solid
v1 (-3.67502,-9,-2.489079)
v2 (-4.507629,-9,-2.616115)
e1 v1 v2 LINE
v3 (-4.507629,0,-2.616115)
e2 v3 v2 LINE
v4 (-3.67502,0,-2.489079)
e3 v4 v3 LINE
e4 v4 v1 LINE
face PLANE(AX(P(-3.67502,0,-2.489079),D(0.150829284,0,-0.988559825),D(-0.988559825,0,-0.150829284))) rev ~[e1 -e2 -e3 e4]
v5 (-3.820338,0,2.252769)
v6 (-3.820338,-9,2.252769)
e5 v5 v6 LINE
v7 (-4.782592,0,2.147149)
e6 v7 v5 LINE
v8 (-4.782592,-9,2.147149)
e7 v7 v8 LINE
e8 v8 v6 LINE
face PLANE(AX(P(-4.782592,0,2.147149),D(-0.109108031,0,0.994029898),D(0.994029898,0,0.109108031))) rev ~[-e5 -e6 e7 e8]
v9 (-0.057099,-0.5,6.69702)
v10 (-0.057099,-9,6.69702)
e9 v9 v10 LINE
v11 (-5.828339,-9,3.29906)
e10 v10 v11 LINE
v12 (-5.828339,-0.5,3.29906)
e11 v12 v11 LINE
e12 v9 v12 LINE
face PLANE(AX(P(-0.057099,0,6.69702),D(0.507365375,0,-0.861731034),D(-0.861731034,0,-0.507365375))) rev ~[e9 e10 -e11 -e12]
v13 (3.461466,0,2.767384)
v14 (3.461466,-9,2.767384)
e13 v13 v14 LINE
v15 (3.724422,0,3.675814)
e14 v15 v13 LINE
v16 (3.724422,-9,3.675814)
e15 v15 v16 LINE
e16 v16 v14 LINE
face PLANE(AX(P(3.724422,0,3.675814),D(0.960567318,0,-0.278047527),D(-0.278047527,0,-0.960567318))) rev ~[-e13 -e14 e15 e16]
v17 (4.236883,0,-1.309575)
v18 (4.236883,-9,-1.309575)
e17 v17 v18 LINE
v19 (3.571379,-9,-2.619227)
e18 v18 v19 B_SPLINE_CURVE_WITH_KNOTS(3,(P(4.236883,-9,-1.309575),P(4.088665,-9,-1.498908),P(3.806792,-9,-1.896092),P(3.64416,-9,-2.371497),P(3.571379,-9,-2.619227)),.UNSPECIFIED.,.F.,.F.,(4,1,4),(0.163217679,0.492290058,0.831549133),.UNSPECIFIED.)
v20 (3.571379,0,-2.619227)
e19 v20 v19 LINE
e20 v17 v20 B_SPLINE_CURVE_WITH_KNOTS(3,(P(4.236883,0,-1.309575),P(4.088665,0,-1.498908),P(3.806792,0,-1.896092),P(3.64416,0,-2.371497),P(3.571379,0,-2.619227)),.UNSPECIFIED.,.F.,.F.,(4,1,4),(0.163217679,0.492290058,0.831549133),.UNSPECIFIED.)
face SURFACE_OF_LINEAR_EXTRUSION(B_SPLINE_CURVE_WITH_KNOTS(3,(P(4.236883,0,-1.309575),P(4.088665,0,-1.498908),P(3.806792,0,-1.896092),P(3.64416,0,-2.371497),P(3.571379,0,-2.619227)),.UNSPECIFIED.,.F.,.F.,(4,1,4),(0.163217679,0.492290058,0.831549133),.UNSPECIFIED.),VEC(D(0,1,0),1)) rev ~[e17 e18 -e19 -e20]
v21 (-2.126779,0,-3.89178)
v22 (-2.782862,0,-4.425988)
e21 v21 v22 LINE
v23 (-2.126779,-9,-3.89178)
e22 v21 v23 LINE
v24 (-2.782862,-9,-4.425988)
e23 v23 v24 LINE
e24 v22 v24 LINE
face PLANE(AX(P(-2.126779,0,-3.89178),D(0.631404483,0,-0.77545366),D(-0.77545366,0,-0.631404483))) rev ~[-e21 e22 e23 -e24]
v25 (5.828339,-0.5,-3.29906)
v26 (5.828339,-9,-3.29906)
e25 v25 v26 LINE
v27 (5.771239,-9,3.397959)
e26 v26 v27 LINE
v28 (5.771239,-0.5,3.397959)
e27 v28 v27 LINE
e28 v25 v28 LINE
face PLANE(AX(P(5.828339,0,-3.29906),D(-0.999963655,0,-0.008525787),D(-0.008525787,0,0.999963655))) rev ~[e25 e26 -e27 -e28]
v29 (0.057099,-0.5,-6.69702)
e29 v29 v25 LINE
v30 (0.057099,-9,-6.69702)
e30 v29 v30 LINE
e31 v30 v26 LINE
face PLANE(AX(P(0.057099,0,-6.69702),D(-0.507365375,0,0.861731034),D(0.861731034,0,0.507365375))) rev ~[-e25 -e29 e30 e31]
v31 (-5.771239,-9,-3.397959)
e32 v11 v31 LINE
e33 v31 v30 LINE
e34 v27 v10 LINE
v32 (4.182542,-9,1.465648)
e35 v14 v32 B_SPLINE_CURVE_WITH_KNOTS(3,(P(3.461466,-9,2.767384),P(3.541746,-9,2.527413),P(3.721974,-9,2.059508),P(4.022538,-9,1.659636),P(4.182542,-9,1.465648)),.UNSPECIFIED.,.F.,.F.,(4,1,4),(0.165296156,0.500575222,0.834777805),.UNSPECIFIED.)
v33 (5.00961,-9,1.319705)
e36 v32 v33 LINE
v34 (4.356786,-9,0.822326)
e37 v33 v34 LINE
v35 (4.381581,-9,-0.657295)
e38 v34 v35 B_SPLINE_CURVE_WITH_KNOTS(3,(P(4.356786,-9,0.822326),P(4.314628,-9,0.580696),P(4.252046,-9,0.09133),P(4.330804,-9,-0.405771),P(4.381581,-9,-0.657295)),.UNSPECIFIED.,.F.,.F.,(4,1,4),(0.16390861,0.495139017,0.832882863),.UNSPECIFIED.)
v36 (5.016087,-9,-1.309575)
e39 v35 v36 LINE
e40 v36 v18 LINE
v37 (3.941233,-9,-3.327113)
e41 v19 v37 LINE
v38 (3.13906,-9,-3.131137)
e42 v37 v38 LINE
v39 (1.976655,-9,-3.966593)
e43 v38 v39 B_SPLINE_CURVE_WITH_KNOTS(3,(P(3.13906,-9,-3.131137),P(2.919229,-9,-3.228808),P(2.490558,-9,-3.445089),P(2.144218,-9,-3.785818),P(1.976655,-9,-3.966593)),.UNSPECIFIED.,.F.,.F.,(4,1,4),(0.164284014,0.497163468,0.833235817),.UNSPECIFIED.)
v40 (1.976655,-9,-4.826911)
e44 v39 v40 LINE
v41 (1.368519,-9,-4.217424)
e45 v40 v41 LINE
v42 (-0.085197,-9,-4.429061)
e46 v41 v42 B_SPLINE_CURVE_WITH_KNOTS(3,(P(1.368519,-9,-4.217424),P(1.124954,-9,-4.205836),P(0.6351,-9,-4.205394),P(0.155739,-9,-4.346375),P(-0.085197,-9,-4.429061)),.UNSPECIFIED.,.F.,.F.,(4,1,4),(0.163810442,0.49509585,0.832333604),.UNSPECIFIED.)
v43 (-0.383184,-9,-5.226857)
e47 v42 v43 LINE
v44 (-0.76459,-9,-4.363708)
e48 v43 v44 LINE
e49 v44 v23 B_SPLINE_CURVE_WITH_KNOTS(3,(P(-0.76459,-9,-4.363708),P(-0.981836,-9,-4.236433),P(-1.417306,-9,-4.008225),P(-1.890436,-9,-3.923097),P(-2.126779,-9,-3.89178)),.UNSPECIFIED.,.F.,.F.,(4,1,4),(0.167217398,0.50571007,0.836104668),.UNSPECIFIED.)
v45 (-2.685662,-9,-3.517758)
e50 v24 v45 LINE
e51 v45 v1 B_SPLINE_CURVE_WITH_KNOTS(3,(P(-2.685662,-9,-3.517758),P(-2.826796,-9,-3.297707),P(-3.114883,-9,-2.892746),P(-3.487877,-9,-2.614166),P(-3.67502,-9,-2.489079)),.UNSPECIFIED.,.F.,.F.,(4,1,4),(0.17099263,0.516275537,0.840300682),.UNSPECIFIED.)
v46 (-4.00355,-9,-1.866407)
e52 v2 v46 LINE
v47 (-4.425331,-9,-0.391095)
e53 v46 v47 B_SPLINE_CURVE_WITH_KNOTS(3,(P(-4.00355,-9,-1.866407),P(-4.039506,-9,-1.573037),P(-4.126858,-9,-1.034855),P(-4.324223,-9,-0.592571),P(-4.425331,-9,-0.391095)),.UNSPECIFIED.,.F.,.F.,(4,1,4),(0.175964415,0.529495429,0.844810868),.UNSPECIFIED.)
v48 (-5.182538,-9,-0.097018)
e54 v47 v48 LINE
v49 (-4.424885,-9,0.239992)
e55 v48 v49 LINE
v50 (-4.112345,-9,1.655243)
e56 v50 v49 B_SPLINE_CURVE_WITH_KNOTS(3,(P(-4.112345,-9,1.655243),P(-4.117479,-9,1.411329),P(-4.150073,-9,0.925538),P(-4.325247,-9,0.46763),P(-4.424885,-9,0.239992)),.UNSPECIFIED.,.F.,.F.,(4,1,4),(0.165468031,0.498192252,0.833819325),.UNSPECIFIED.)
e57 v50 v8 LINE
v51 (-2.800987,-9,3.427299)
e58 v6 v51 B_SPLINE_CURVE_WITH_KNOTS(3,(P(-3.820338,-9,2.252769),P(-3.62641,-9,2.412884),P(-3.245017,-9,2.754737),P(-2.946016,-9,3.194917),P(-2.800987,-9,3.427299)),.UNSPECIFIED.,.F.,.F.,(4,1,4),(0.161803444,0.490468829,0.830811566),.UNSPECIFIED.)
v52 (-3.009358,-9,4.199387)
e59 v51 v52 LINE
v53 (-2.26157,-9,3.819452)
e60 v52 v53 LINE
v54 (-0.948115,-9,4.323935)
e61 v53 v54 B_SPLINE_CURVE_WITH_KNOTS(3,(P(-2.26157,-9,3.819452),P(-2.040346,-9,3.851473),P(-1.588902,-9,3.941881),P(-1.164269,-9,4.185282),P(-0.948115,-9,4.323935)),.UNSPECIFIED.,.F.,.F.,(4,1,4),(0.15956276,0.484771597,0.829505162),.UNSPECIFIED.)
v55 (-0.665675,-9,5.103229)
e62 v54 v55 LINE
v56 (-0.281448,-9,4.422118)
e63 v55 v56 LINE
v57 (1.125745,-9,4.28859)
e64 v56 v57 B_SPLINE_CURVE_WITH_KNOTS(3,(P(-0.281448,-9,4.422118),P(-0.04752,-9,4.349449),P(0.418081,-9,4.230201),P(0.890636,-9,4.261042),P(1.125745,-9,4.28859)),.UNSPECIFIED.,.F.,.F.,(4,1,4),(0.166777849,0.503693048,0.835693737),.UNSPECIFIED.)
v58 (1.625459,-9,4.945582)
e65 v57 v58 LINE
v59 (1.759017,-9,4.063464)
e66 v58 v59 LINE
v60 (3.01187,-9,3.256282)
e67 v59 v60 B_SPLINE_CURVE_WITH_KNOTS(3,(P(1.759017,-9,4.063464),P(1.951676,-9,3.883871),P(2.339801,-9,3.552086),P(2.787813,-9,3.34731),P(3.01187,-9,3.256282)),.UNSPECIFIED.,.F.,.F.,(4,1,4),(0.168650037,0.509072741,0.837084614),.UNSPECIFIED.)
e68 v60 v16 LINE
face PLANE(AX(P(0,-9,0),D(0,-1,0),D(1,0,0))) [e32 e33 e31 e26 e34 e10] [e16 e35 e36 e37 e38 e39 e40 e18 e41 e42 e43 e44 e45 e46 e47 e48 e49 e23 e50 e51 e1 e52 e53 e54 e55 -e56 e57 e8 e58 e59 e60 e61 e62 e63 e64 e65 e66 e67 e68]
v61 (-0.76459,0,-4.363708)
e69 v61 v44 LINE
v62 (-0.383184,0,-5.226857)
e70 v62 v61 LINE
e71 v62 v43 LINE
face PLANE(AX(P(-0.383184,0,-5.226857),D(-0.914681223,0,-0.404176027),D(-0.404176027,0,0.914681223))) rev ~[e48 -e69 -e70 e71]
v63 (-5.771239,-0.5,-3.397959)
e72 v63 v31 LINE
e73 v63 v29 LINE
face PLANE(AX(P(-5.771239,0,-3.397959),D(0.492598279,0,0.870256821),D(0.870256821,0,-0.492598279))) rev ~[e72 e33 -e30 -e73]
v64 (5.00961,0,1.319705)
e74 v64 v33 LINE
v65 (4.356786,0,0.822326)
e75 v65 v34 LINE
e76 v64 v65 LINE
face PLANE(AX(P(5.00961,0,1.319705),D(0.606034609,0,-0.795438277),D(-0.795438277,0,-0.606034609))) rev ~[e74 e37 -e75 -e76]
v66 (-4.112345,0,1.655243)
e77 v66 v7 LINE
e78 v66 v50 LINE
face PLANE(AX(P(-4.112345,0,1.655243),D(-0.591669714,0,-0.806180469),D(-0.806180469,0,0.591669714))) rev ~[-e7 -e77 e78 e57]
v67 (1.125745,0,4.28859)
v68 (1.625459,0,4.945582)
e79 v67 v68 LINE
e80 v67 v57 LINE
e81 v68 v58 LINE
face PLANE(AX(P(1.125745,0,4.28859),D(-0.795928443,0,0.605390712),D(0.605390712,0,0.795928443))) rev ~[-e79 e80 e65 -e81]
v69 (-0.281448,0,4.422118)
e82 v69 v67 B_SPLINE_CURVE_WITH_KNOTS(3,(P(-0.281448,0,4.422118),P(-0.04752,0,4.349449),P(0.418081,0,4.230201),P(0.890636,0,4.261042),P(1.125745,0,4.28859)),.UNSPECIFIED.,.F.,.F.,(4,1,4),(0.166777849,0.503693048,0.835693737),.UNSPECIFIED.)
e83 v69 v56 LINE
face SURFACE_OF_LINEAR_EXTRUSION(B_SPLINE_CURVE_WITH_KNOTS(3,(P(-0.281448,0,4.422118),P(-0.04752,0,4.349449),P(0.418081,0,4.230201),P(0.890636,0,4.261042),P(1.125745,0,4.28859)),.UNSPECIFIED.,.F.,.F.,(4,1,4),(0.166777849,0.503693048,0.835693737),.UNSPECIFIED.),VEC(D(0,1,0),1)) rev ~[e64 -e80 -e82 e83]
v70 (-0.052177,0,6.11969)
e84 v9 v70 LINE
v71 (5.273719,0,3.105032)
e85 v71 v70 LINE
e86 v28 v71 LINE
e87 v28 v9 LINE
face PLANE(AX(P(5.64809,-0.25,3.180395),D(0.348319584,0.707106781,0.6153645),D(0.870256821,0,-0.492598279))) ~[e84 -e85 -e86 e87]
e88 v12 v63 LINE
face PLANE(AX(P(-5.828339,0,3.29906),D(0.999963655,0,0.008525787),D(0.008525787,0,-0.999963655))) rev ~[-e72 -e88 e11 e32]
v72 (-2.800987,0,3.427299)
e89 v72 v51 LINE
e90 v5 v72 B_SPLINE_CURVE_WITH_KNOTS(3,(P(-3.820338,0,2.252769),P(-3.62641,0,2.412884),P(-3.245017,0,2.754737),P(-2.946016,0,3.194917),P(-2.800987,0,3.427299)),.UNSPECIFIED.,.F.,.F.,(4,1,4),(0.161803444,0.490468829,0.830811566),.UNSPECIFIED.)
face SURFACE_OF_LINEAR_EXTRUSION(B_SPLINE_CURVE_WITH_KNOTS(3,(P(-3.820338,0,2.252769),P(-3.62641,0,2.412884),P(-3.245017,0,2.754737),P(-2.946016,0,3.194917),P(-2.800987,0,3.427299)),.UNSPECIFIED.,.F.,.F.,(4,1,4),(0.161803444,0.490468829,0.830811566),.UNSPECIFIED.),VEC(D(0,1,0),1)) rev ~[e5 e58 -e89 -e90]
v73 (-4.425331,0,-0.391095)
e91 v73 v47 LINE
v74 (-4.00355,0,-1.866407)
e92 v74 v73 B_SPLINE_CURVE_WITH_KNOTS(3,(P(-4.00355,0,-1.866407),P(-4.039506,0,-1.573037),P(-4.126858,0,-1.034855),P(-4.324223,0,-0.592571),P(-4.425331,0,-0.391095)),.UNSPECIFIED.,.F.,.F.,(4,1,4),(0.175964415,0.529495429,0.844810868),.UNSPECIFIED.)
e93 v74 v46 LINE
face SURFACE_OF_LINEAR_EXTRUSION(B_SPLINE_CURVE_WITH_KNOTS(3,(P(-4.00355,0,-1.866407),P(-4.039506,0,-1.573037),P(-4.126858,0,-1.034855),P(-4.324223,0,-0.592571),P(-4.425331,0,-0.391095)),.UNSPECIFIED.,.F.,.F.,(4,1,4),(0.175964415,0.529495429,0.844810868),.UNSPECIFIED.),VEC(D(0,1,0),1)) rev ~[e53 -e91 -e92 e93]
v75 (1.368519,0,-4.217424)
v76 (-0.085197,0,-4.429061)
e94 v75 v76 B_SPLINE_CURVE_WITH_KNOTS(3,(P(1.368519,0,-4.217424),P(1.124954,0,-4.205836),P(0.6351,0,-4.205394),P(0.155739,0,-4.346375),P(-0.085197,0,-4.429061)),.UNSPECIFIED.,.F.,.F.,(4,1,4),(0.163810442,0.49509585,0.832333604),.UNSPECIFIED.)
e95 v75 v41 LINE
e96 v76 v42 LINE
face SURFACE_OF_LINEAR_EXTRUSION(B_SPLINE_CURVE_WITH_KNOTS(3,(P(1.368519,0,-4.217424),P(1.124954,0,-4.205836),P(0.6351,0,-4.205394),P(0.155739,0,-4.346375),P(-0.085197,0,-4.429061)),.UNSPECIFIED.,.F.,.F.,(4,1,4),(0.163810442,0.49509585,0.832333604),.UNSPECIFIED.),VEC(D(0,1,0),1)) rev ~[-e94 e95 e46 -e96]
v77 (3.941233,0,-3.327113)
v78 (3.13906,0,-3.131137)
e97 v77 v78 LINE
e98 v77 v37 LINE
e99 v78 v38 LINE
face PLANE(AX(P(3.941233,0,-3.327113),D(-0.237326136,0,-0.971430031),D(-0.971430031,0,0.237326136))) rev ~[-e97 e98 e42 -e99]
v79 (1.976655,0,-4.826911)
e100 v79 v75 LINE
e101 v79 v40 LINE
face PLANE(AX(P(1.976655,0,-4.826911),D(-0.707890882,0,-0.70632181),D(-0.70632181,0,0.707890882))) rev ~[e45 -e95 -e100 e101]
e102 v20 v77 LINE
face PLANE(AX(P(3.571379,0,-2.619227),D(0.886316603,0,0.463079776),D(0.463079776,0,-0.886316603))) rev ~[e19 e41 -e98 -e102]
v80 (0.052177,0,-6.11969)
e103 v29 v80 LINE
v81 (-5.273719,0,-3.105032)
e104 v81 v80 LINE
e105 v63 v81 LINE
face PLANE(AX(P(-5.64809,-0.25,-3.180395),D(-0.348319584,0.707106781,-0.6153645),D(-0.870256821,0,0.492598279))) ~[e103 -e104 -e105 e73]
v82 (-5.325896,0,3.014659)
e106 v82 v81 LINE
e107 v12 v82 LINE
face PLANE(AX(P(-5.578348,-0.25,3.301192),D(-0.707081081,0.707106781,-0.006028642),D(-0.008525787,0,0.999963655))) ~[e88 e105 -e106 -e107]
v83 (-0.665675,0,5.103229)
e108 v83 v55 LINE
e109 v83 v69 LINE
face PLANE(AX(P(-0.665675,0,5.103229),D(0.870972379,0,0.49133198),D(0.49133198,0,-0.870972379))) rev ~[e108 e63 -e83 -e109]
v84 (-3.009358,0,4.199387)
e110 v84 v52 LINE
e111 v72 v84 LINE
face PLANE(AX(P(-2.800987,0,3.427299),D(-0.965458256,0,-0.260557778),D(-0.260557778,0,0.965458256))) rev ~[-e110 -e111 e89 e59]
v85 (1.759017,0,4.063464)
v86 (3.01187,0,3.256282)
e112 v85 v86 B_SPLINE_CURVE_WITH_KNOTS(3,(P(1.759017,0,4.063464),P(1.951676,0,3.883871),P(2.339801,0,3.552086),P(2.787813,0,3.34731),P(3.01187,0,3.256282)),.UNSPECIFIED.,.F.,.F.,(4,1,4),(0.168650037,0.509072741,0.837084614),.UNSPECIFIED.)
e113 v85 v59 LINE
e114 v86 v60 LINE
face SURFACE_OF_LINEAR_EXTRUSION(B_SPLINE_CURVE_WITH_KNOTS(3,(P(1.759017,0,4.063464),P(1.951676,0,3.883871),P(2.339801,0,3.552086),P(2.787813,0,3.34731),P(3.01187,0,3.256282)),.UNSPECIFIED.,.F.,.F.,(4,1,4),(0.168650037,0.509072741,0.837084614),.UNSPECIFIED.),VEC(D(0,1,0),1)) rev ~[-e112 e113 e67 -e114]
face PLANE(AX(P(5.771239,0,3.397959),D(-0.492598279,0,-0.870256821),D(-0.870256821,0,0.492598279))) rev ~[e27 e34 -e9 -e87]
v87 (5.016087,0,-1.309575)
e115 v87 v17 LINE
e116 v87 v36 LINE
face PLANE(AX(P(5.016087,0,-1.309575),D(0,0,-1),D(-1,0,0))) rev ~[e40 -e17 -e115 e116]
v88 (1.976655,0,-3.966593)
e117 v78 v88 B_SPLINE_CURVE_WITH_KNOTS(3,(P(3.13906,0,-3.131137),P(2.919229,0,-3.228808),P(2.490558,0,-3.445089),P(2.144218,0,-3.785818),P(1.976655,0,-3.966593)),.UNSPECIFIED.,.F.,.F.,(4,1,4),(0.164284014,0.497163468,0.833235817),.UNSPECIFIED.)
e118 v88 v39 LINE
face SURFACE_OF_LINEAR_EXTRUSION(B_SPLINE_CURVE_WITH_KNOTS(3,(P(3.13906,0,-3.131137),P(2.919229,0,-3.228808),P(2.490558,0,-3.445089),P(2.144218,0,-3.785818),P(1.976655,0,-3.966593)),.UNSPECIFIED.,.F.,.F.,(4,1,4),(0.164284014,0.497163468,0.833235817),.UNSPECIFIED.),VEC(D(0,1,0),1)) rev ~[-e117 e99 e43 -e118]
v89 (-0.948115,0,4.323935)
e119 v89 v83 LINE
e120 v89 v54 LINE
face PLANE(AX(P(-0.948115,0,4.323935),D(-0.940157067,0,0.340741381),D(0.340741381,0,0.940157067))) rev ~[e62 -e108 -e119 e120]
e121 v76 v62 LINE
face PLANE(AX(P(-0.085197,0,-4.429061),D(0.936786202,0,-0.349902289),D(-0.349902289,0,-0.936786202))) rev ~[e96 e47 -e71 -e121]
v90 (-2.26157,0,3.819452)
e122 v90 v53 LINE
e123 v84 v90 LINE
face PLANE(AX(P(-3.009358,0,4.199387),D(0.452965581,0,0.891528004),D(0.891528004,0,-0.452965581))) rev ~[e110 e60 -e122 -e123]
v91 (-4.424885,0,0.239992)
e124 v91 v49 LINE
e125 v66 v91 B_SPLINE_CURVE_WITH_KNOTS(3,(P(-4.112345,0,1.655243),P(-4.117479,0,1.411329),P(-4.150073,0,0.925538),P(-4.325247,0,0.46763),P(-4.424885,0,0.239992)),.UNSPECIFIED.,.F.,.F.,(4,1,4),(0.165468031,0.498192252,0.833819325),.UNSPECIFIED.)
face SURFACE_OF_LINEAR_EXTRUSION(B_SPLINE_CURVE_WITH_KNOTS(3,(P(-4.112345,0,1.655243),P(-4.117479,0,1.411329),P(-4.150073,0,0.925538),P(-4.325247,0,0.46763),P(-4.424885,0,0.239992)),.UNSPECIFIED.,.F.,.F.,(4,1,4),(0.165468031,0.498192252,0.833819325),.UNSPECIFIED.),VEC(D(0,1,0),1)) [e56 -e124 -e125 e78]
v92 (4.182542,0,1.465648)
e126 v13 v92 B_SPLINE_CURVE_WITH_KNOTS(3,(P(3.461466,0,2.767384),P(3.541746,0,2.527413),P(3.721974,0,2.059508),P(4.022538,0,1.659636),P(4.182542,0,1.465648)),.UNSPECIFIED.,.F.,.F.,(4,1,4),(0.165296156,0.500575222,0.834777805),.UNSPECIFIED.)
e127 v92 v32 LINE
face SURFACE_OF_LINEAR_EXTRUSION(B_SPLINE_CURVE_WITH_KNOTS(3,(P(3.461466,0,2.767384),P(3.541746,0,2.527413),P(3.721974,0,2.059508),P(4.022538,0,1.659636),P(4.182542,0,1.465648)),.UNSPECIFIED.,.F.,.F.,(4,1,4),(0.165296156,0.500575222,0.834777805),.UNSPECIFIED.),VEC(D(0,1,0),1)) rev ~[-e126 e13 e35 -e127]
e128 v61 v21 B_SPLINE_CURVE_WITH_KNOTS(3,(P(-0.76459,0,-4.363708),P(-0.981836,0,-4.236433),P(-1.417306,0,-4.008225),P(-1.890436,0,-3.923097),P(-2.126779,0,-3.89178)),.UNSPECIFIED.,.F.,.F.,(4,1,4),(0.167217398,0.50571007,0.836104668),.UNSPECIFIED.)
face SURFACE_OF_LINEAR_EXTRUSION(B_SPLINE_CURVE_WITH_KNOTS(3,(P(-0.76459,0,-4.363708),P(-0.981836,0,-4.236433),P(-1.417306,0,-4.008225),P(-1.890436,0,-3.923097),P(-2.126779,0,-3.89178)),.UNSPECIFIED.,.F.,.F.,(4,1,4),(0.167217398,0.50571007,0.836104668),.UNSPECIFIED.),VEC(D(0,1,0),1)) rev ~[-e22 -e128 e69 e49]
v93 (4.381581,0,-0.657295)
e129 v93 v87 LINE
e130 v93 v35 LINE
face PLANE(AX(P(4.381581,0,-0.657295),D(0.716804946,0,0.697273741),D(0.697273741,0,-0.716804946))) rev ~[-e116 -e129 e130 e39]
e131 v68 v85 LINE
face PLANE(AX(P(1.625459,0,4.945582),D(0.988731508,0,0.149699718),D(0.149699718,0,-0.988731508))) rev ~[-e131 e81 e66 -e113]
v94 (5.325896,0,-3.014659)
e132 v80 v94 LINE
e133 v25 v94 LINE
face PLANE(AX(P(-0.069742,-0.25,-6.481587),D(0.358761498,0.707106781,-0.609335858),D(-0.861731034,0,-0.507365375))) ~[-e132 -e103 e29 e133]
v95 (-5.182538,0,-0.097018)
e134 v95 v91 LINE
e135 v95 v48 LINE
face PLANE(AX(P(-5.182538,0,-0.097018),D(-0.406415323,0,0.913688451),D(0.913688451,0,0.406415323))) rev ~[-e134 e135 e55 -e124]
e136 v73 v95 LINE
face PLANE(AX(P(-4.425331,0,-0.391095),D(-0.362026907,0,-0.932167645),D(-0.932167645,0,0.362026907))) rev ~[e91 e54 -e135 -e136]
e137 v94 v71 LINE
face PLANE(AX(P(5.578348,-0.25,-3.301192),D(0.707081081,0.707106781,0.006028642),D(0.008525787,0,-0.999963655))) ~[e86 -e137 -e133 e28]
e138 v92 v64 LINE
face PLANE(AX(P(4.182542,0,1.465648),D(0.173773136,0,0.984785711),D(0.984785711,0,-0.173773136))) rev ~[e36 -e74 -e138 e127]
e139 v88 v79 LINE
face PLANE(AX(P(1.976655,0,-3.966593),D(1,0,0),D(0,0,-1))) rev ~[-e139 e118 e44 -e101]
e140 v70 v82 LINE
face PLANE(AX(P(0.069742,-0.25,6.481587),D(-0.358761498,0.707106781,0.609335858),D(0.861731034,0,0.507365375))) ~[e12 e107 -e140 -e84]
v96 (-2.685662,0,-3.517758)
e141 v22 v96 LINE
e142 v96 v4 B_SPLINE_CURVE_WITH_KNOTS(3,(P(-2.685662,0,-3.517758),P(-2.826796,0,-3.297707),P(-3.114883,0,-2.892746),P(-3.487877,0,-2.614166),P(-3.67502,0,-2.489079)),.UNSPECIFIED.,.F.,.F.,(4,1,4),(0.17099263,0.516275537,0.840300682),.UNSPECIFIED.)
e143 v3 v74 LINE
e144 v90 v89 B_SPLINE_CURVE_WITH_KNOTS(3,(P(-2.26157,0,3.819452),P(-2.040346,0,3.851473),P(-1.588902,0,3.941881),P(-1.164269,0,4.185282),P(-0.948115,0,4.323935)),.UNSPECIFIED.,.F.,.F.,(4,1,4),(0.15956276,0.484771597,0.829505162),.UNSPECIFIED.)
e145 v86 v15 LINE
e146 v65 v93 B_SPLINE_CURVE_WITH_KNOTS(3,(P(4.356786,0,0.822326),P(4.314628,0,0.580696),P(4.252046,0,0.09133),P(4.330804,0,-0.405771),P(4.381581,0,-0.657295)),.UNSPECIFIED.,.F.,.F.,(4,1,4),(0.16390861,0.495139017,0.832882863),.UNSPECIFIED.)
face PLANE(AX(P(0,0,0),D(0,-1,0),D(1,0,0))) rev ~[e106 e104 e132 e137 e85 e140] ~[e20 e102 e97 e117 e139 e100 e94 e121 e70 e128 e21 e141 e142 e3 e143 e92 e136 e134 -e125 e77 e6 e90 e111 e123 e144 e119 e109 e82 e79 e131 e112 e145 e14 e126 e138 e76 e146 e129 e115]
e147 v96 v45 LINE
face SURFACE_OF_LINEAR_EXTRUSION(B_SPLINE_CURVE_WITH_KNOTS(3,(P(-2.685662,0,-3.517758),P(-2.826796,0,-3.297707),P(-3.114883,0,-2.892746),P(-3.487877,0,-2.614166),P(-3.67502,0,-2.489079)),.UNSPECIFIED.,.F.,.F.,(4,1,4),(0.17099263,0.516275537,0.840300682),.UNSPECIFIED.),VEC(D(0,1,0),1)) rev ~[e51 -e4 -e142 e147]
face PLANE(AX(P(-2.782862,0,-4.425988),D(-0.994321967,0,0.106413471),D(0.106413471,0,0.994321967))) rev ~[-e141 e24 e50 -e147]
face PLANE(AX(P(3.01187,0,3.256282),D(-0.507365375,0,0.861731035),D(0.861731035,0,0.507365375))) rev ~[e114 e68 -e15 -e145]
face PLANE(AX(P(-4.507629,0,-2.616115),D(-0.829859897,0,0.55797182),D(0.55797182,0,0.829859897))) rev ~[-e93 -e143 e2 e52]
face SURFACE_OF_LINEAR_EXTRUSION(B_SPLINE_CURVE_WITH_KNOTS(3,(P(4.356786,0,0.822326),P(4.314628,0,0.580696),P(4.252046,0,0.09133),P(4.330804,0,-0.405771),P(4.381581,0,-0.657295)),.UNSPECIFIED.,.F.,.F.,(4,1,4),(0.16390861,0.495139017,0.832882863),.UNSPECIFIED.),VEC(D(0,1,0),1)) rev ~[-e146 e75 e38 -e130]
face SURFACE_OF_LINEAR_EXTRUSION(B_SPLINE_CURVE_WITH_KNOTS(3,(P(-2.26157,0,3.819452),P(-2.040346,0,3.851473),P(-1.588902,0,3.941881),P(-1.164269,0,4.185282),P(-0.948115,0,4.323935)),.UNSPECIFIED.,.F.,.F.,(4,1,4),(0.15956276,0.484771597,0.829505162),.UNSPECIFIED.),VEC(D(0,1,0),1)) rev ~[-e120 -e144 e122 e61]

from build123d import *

# Parameters (mm, degrees)
F1_DEPTH = 9
F2_SIZE  = 0.5


with BuildPart() as f1:
    # F0 (on Front) → F1 (new body)
    with BuildSketch(Plane.XZ):
        Polygon((5.771239479, 3.3979594185), (-0.057099438, 6.6970197094), (-5.8283389169, 3.2990602908), (-5.771239479, -3.3979594185), (0.057099438, -6.6970197094), (5.8283389169, -3.2990602908), align=None)
        with BuildLine():
            add(Edge.make_bspline(
                [(-4.1123446832, 1.6552429256), (-4.1174787775, 1.411329486), (-4.1500733637, 0.925537621), (-4.325246506, 0.4676303043), (-4.4248853183, 0.2399919724)],
                knots=[0.1654680305, 0.1654680305, 0.1654680305, 0.1654680305, 0.4981922517, 0.8338193254, 0.8338193254, 0.8338193254, 0.8338193254], degree=3))
            Line((-4.1123446832, 1.6552429256), (-4.7825924335, 2.147149279))
            Line((-4.7825924335, 2.147149279), (-3.8203382814, 2.2527694981))
            add(Edge.make_bspline(
                [(-3.8203382814, 2.2527694981), (-3.6264101242, 2.412883771), (-3.2450169042, 2.7547368534), (-2.9460164758, 3.1949170496), (-2.8009872015, 3.4272985006)],
                knots=[0.1618034438, 0.1618034438, 0.1618034438, 0.1618034438, 0.4904688292, 0.8308115665, 0.8308115665, 0.8308115665, 0.8308115665], degree=3))
            Line((-2.8009872015, 3.4272985006), (-3.009358343, 4.1993869056))
            Line((-3.009358343, 4.1993869056), (-2.2615699073, 3.8194522076))
            add(Edge.make_bspline(
                [(-2.2615699073, 3.8194522076), (-2.0403463186, 3.8514725128), (-1.5889015237, 3.9418806441), (-1.1642693862, 4.1852821428), (-0.9481149286, 4.3239350164)],
                knots=[0.1595627595, 0.1595627595, 0.1595627595, 0.1595627595, 0.4847715969, 0.8295051617, 0.8295051617, 0.8295051617, 0.8295051617], degree=3))
            Line((-0.9481149286, 4.3239350164), (-0.6656752564, 5.1032288397))
            Line((-0.6656752564, 5.1032288397), (-0.2814478202, 4.4221181091))
            add(Edge.make_bspline(
                [(-0.2814478202, 4.4221181091), (-0.0475204769, 4.3494489431), (0.4180814718, 4.2302011817), (0.8906361121, 4.261042496), (1.1257445194, 4.2885900376)],
                knots=[0.1667778488, 0.1667778488, 0.1667778488, 0.1667778488, 0.5036930477, 0.8356937369, 0.8356937369, 0.8356937369, 0.8356937369], degree=3))
            Line((1.1257445194, 4.2885900376), (1.6254587255, 4.9455818646))
            Line((1.6254587255, 4.9455818646), (1.7590165896, 4.0634635146))
            add(Edge.make_bspline(
                [(1.7590165896, 4.0634635146), (1.9516755707, 3.8838712943), (2.3398013561, 3.5520856406), (2.7878134674, 3.3473103351), (3.0118703972, 3.2562815915)],
                knots=[0.1686500373, 0.1686500373, 0.1686500373, 0.1686500373, 0.5090727407, 0.8370846142, 0.8370846142, 0.8370846142, 0.8370846142], degree=3))
            Line((3.0118703972, 3.2562815915), (3.7244220819, 3.6758139496))
            Line((3.7244220819, 3.6758139496), (3.4614664388, 2.767384373))
            add(Edge.make_bspline(
                [(3.4614664388, 2.767384373), (3.5417461863, 2.5274125007), (3.7219735139, 2.0595083937), (4.022538142, 1.6596363104), (4.182542038, 1.4656475082)],
                knots=[0.1652961564, 0.1652961564, 0.1652961564, 0.1652961564, 0.5005752218, 0.8347778047, 0.8347778047, 0.8347778047, 0.8347778047], degree=3))
            Line((4.182542038, 1.4656475082), (5.0096104241, 1.3197048267))
            Line((5.0096104241, 1.3197048267), (4.3567863345, 0.8223262081))
            add(Edge.make_bspline(
                [(4.3567863345, 0.8223262081), (4.3146279079, 0.580695946), (4.2520460753, 0.0913297677), (4.3308041169, -0.4057707033), (4.3815805084, -0.6572954773)],
                knots=[0.1639086104, 0.1639086104, 0.1639086104, 0.1639086104, 0.4951390174, 0.8328828627, 0.8328828627, 0.8328828627, 0.8328828627], degree=3))
            Line((4.3815805084, -0.6572954773), (5.016087005, -1.3095750167))
            Line((5.016087005, -1.3095750167), (4.2368834794, -1.3095750167))
            add(Edge.make_bspline(
                [(4.2368834794, -1.3095750167), (4.0886648144, -1.4989078417), (3.8067923335, -1.8960921072), (3.6441596385, -2.3714968484), (3.5713788507, -2.6192273034)],
                knots=[0.1632176788, 0.1632176788, 0.1632176788, 0.1632176788, 0.4922900583, 0.8315491328, 0.8315491328, 0.8315491328, 0.8315491328], degree=3))
            Line((3.5713788507, -2.6192273034), (3.9412326893, -3.3271131047))
            Line((3.9412326893, -3.3271131047), (3.139059723, -3.1311374767))
            add(Edge.make_bspline(
                [(3.139059723, -3.1311374767), (2.9192288697, -3.2288079799), (2.4905584361, -3.445089303), (2.1442178415, -3.7858182118), (1.9766546194, -3.9665931306)],
                knots=[0.1642840141, 0.1642840141, 0.1642840141, 0.1642840141, 0.4971634677, 0.8332358166, 0.8332358166, 0.8332358166, 0.8332358166], degree=3))
            Line((1.9766546194, -3.9665931306), (1.9766546194, -4.8269105444))
            Line((1.9766546194, -4.8269105444), (1.3685185895, -4.217423559))
            add(Edge.make_bspline(
                [(1.3685185895, -4.217423559), (1.1249538803, -4.2058360658), (0.6350996935, -4.2053944064), (0.1557393345, -4.3463754391), (-0.0851970183, -4.4290614189)],
                knots=[0.1638104421, 0.1638104421, 0.1638104421, 0.1638104421, 0.49509585, 0.8323336044, 0.8323336044, 0.8323336044, 0.8323336044], degree=3))
            Line((-0.0851970183, -4.4290614189), (-0.3831844502, -5.2268570406))
            Line((-0.3831844502, -5.2268570406), (-0.7645896939, -4.3637078397))
            add(Edge.make_bspline(
                [(-0.7645896939, -4.3637078397), (-0.9818357622, -4.236433015), (-1.4173063734, -4.0082254227), (-1.8904356885, -3.9230966079), (-2.1267794111, -3.8917799757)],
                knots=[0.1672173978, 0.1672173978, 0.1672173978, 0.1672173978, 0.5057100699, 0.8361046679, 0.8361046679, 0.8361046679, 0.8361046679], degree=3))
            Line((-2.1267794111, -3.8917799757), (-2.7828615346, -4.4259875182))
            Line((-2.7828615346, -4.4259875182), (-2.6856618063, -3.5177582831))
            add(Edge.make_bspline(
                [(-2.6856618063, -3.5177582831), (-2.8267960426, -3.2977068408), (-3.1148828244, -2.8927455355), (-3.4878769032, -2.6141661912), (-3.675020495, -2.4890794933)],
                knots=[0.1709926301, 0.1709926301, 0.1709926301, 0.1709926301, 0.5162755372, 0.8403006819, 0.8403006819, 0.8403006819, 0.8403006819], degree=3))
            Line((-3.675020495, -2.4890794933), (-4.5076293021, -2.6161145871))
            Line((-4.5076293021, -2.6161145871), (-4.0035495268, -1.8664072081))
            add(Edge.make_bspline(
                [(-4.0035495268, -1.8664072081), (-4.0395064471, -1.5730373445), (-4.1268579509, -1.0348551439), (-4.3242225424, -0.5925714681), (-4.4253310095, -0.391094776)],
                knots=[0.1759644155, 0.1759644155, 0.1759644155, 0.1759644155, 0.5294954292, 0.8448108675, 0.8448108675, 0.8448108675, 0.8448108675], degree=3))
            Line((-4.4253310095, -0.391094776), (-5.1825380257, -0.0970175081))
            Line((-5.1825380257, -0.0970175081), (-4.4248853183, 0.2399919724))
        make_face(mode=Mode.SUBTRACT)
    extrude(amount=F1_DEPTH)

    # F2
    f2_edges = [f1.edges().sort_by_distance(p)[0] for p in [
        (-2.942719, 0, 4.99804),
        (-5.799789, 0, -0.04945),
        (-2.85707, 0, -5.04749),
        (2.942719, 0, -4.99804),
        (5.799789, 0, 0.04945),
        (2.85707, 0, 5.04749),
    ]]
    chamfer(f2_edges, length=F2_SIZE)


solid = f1.part
